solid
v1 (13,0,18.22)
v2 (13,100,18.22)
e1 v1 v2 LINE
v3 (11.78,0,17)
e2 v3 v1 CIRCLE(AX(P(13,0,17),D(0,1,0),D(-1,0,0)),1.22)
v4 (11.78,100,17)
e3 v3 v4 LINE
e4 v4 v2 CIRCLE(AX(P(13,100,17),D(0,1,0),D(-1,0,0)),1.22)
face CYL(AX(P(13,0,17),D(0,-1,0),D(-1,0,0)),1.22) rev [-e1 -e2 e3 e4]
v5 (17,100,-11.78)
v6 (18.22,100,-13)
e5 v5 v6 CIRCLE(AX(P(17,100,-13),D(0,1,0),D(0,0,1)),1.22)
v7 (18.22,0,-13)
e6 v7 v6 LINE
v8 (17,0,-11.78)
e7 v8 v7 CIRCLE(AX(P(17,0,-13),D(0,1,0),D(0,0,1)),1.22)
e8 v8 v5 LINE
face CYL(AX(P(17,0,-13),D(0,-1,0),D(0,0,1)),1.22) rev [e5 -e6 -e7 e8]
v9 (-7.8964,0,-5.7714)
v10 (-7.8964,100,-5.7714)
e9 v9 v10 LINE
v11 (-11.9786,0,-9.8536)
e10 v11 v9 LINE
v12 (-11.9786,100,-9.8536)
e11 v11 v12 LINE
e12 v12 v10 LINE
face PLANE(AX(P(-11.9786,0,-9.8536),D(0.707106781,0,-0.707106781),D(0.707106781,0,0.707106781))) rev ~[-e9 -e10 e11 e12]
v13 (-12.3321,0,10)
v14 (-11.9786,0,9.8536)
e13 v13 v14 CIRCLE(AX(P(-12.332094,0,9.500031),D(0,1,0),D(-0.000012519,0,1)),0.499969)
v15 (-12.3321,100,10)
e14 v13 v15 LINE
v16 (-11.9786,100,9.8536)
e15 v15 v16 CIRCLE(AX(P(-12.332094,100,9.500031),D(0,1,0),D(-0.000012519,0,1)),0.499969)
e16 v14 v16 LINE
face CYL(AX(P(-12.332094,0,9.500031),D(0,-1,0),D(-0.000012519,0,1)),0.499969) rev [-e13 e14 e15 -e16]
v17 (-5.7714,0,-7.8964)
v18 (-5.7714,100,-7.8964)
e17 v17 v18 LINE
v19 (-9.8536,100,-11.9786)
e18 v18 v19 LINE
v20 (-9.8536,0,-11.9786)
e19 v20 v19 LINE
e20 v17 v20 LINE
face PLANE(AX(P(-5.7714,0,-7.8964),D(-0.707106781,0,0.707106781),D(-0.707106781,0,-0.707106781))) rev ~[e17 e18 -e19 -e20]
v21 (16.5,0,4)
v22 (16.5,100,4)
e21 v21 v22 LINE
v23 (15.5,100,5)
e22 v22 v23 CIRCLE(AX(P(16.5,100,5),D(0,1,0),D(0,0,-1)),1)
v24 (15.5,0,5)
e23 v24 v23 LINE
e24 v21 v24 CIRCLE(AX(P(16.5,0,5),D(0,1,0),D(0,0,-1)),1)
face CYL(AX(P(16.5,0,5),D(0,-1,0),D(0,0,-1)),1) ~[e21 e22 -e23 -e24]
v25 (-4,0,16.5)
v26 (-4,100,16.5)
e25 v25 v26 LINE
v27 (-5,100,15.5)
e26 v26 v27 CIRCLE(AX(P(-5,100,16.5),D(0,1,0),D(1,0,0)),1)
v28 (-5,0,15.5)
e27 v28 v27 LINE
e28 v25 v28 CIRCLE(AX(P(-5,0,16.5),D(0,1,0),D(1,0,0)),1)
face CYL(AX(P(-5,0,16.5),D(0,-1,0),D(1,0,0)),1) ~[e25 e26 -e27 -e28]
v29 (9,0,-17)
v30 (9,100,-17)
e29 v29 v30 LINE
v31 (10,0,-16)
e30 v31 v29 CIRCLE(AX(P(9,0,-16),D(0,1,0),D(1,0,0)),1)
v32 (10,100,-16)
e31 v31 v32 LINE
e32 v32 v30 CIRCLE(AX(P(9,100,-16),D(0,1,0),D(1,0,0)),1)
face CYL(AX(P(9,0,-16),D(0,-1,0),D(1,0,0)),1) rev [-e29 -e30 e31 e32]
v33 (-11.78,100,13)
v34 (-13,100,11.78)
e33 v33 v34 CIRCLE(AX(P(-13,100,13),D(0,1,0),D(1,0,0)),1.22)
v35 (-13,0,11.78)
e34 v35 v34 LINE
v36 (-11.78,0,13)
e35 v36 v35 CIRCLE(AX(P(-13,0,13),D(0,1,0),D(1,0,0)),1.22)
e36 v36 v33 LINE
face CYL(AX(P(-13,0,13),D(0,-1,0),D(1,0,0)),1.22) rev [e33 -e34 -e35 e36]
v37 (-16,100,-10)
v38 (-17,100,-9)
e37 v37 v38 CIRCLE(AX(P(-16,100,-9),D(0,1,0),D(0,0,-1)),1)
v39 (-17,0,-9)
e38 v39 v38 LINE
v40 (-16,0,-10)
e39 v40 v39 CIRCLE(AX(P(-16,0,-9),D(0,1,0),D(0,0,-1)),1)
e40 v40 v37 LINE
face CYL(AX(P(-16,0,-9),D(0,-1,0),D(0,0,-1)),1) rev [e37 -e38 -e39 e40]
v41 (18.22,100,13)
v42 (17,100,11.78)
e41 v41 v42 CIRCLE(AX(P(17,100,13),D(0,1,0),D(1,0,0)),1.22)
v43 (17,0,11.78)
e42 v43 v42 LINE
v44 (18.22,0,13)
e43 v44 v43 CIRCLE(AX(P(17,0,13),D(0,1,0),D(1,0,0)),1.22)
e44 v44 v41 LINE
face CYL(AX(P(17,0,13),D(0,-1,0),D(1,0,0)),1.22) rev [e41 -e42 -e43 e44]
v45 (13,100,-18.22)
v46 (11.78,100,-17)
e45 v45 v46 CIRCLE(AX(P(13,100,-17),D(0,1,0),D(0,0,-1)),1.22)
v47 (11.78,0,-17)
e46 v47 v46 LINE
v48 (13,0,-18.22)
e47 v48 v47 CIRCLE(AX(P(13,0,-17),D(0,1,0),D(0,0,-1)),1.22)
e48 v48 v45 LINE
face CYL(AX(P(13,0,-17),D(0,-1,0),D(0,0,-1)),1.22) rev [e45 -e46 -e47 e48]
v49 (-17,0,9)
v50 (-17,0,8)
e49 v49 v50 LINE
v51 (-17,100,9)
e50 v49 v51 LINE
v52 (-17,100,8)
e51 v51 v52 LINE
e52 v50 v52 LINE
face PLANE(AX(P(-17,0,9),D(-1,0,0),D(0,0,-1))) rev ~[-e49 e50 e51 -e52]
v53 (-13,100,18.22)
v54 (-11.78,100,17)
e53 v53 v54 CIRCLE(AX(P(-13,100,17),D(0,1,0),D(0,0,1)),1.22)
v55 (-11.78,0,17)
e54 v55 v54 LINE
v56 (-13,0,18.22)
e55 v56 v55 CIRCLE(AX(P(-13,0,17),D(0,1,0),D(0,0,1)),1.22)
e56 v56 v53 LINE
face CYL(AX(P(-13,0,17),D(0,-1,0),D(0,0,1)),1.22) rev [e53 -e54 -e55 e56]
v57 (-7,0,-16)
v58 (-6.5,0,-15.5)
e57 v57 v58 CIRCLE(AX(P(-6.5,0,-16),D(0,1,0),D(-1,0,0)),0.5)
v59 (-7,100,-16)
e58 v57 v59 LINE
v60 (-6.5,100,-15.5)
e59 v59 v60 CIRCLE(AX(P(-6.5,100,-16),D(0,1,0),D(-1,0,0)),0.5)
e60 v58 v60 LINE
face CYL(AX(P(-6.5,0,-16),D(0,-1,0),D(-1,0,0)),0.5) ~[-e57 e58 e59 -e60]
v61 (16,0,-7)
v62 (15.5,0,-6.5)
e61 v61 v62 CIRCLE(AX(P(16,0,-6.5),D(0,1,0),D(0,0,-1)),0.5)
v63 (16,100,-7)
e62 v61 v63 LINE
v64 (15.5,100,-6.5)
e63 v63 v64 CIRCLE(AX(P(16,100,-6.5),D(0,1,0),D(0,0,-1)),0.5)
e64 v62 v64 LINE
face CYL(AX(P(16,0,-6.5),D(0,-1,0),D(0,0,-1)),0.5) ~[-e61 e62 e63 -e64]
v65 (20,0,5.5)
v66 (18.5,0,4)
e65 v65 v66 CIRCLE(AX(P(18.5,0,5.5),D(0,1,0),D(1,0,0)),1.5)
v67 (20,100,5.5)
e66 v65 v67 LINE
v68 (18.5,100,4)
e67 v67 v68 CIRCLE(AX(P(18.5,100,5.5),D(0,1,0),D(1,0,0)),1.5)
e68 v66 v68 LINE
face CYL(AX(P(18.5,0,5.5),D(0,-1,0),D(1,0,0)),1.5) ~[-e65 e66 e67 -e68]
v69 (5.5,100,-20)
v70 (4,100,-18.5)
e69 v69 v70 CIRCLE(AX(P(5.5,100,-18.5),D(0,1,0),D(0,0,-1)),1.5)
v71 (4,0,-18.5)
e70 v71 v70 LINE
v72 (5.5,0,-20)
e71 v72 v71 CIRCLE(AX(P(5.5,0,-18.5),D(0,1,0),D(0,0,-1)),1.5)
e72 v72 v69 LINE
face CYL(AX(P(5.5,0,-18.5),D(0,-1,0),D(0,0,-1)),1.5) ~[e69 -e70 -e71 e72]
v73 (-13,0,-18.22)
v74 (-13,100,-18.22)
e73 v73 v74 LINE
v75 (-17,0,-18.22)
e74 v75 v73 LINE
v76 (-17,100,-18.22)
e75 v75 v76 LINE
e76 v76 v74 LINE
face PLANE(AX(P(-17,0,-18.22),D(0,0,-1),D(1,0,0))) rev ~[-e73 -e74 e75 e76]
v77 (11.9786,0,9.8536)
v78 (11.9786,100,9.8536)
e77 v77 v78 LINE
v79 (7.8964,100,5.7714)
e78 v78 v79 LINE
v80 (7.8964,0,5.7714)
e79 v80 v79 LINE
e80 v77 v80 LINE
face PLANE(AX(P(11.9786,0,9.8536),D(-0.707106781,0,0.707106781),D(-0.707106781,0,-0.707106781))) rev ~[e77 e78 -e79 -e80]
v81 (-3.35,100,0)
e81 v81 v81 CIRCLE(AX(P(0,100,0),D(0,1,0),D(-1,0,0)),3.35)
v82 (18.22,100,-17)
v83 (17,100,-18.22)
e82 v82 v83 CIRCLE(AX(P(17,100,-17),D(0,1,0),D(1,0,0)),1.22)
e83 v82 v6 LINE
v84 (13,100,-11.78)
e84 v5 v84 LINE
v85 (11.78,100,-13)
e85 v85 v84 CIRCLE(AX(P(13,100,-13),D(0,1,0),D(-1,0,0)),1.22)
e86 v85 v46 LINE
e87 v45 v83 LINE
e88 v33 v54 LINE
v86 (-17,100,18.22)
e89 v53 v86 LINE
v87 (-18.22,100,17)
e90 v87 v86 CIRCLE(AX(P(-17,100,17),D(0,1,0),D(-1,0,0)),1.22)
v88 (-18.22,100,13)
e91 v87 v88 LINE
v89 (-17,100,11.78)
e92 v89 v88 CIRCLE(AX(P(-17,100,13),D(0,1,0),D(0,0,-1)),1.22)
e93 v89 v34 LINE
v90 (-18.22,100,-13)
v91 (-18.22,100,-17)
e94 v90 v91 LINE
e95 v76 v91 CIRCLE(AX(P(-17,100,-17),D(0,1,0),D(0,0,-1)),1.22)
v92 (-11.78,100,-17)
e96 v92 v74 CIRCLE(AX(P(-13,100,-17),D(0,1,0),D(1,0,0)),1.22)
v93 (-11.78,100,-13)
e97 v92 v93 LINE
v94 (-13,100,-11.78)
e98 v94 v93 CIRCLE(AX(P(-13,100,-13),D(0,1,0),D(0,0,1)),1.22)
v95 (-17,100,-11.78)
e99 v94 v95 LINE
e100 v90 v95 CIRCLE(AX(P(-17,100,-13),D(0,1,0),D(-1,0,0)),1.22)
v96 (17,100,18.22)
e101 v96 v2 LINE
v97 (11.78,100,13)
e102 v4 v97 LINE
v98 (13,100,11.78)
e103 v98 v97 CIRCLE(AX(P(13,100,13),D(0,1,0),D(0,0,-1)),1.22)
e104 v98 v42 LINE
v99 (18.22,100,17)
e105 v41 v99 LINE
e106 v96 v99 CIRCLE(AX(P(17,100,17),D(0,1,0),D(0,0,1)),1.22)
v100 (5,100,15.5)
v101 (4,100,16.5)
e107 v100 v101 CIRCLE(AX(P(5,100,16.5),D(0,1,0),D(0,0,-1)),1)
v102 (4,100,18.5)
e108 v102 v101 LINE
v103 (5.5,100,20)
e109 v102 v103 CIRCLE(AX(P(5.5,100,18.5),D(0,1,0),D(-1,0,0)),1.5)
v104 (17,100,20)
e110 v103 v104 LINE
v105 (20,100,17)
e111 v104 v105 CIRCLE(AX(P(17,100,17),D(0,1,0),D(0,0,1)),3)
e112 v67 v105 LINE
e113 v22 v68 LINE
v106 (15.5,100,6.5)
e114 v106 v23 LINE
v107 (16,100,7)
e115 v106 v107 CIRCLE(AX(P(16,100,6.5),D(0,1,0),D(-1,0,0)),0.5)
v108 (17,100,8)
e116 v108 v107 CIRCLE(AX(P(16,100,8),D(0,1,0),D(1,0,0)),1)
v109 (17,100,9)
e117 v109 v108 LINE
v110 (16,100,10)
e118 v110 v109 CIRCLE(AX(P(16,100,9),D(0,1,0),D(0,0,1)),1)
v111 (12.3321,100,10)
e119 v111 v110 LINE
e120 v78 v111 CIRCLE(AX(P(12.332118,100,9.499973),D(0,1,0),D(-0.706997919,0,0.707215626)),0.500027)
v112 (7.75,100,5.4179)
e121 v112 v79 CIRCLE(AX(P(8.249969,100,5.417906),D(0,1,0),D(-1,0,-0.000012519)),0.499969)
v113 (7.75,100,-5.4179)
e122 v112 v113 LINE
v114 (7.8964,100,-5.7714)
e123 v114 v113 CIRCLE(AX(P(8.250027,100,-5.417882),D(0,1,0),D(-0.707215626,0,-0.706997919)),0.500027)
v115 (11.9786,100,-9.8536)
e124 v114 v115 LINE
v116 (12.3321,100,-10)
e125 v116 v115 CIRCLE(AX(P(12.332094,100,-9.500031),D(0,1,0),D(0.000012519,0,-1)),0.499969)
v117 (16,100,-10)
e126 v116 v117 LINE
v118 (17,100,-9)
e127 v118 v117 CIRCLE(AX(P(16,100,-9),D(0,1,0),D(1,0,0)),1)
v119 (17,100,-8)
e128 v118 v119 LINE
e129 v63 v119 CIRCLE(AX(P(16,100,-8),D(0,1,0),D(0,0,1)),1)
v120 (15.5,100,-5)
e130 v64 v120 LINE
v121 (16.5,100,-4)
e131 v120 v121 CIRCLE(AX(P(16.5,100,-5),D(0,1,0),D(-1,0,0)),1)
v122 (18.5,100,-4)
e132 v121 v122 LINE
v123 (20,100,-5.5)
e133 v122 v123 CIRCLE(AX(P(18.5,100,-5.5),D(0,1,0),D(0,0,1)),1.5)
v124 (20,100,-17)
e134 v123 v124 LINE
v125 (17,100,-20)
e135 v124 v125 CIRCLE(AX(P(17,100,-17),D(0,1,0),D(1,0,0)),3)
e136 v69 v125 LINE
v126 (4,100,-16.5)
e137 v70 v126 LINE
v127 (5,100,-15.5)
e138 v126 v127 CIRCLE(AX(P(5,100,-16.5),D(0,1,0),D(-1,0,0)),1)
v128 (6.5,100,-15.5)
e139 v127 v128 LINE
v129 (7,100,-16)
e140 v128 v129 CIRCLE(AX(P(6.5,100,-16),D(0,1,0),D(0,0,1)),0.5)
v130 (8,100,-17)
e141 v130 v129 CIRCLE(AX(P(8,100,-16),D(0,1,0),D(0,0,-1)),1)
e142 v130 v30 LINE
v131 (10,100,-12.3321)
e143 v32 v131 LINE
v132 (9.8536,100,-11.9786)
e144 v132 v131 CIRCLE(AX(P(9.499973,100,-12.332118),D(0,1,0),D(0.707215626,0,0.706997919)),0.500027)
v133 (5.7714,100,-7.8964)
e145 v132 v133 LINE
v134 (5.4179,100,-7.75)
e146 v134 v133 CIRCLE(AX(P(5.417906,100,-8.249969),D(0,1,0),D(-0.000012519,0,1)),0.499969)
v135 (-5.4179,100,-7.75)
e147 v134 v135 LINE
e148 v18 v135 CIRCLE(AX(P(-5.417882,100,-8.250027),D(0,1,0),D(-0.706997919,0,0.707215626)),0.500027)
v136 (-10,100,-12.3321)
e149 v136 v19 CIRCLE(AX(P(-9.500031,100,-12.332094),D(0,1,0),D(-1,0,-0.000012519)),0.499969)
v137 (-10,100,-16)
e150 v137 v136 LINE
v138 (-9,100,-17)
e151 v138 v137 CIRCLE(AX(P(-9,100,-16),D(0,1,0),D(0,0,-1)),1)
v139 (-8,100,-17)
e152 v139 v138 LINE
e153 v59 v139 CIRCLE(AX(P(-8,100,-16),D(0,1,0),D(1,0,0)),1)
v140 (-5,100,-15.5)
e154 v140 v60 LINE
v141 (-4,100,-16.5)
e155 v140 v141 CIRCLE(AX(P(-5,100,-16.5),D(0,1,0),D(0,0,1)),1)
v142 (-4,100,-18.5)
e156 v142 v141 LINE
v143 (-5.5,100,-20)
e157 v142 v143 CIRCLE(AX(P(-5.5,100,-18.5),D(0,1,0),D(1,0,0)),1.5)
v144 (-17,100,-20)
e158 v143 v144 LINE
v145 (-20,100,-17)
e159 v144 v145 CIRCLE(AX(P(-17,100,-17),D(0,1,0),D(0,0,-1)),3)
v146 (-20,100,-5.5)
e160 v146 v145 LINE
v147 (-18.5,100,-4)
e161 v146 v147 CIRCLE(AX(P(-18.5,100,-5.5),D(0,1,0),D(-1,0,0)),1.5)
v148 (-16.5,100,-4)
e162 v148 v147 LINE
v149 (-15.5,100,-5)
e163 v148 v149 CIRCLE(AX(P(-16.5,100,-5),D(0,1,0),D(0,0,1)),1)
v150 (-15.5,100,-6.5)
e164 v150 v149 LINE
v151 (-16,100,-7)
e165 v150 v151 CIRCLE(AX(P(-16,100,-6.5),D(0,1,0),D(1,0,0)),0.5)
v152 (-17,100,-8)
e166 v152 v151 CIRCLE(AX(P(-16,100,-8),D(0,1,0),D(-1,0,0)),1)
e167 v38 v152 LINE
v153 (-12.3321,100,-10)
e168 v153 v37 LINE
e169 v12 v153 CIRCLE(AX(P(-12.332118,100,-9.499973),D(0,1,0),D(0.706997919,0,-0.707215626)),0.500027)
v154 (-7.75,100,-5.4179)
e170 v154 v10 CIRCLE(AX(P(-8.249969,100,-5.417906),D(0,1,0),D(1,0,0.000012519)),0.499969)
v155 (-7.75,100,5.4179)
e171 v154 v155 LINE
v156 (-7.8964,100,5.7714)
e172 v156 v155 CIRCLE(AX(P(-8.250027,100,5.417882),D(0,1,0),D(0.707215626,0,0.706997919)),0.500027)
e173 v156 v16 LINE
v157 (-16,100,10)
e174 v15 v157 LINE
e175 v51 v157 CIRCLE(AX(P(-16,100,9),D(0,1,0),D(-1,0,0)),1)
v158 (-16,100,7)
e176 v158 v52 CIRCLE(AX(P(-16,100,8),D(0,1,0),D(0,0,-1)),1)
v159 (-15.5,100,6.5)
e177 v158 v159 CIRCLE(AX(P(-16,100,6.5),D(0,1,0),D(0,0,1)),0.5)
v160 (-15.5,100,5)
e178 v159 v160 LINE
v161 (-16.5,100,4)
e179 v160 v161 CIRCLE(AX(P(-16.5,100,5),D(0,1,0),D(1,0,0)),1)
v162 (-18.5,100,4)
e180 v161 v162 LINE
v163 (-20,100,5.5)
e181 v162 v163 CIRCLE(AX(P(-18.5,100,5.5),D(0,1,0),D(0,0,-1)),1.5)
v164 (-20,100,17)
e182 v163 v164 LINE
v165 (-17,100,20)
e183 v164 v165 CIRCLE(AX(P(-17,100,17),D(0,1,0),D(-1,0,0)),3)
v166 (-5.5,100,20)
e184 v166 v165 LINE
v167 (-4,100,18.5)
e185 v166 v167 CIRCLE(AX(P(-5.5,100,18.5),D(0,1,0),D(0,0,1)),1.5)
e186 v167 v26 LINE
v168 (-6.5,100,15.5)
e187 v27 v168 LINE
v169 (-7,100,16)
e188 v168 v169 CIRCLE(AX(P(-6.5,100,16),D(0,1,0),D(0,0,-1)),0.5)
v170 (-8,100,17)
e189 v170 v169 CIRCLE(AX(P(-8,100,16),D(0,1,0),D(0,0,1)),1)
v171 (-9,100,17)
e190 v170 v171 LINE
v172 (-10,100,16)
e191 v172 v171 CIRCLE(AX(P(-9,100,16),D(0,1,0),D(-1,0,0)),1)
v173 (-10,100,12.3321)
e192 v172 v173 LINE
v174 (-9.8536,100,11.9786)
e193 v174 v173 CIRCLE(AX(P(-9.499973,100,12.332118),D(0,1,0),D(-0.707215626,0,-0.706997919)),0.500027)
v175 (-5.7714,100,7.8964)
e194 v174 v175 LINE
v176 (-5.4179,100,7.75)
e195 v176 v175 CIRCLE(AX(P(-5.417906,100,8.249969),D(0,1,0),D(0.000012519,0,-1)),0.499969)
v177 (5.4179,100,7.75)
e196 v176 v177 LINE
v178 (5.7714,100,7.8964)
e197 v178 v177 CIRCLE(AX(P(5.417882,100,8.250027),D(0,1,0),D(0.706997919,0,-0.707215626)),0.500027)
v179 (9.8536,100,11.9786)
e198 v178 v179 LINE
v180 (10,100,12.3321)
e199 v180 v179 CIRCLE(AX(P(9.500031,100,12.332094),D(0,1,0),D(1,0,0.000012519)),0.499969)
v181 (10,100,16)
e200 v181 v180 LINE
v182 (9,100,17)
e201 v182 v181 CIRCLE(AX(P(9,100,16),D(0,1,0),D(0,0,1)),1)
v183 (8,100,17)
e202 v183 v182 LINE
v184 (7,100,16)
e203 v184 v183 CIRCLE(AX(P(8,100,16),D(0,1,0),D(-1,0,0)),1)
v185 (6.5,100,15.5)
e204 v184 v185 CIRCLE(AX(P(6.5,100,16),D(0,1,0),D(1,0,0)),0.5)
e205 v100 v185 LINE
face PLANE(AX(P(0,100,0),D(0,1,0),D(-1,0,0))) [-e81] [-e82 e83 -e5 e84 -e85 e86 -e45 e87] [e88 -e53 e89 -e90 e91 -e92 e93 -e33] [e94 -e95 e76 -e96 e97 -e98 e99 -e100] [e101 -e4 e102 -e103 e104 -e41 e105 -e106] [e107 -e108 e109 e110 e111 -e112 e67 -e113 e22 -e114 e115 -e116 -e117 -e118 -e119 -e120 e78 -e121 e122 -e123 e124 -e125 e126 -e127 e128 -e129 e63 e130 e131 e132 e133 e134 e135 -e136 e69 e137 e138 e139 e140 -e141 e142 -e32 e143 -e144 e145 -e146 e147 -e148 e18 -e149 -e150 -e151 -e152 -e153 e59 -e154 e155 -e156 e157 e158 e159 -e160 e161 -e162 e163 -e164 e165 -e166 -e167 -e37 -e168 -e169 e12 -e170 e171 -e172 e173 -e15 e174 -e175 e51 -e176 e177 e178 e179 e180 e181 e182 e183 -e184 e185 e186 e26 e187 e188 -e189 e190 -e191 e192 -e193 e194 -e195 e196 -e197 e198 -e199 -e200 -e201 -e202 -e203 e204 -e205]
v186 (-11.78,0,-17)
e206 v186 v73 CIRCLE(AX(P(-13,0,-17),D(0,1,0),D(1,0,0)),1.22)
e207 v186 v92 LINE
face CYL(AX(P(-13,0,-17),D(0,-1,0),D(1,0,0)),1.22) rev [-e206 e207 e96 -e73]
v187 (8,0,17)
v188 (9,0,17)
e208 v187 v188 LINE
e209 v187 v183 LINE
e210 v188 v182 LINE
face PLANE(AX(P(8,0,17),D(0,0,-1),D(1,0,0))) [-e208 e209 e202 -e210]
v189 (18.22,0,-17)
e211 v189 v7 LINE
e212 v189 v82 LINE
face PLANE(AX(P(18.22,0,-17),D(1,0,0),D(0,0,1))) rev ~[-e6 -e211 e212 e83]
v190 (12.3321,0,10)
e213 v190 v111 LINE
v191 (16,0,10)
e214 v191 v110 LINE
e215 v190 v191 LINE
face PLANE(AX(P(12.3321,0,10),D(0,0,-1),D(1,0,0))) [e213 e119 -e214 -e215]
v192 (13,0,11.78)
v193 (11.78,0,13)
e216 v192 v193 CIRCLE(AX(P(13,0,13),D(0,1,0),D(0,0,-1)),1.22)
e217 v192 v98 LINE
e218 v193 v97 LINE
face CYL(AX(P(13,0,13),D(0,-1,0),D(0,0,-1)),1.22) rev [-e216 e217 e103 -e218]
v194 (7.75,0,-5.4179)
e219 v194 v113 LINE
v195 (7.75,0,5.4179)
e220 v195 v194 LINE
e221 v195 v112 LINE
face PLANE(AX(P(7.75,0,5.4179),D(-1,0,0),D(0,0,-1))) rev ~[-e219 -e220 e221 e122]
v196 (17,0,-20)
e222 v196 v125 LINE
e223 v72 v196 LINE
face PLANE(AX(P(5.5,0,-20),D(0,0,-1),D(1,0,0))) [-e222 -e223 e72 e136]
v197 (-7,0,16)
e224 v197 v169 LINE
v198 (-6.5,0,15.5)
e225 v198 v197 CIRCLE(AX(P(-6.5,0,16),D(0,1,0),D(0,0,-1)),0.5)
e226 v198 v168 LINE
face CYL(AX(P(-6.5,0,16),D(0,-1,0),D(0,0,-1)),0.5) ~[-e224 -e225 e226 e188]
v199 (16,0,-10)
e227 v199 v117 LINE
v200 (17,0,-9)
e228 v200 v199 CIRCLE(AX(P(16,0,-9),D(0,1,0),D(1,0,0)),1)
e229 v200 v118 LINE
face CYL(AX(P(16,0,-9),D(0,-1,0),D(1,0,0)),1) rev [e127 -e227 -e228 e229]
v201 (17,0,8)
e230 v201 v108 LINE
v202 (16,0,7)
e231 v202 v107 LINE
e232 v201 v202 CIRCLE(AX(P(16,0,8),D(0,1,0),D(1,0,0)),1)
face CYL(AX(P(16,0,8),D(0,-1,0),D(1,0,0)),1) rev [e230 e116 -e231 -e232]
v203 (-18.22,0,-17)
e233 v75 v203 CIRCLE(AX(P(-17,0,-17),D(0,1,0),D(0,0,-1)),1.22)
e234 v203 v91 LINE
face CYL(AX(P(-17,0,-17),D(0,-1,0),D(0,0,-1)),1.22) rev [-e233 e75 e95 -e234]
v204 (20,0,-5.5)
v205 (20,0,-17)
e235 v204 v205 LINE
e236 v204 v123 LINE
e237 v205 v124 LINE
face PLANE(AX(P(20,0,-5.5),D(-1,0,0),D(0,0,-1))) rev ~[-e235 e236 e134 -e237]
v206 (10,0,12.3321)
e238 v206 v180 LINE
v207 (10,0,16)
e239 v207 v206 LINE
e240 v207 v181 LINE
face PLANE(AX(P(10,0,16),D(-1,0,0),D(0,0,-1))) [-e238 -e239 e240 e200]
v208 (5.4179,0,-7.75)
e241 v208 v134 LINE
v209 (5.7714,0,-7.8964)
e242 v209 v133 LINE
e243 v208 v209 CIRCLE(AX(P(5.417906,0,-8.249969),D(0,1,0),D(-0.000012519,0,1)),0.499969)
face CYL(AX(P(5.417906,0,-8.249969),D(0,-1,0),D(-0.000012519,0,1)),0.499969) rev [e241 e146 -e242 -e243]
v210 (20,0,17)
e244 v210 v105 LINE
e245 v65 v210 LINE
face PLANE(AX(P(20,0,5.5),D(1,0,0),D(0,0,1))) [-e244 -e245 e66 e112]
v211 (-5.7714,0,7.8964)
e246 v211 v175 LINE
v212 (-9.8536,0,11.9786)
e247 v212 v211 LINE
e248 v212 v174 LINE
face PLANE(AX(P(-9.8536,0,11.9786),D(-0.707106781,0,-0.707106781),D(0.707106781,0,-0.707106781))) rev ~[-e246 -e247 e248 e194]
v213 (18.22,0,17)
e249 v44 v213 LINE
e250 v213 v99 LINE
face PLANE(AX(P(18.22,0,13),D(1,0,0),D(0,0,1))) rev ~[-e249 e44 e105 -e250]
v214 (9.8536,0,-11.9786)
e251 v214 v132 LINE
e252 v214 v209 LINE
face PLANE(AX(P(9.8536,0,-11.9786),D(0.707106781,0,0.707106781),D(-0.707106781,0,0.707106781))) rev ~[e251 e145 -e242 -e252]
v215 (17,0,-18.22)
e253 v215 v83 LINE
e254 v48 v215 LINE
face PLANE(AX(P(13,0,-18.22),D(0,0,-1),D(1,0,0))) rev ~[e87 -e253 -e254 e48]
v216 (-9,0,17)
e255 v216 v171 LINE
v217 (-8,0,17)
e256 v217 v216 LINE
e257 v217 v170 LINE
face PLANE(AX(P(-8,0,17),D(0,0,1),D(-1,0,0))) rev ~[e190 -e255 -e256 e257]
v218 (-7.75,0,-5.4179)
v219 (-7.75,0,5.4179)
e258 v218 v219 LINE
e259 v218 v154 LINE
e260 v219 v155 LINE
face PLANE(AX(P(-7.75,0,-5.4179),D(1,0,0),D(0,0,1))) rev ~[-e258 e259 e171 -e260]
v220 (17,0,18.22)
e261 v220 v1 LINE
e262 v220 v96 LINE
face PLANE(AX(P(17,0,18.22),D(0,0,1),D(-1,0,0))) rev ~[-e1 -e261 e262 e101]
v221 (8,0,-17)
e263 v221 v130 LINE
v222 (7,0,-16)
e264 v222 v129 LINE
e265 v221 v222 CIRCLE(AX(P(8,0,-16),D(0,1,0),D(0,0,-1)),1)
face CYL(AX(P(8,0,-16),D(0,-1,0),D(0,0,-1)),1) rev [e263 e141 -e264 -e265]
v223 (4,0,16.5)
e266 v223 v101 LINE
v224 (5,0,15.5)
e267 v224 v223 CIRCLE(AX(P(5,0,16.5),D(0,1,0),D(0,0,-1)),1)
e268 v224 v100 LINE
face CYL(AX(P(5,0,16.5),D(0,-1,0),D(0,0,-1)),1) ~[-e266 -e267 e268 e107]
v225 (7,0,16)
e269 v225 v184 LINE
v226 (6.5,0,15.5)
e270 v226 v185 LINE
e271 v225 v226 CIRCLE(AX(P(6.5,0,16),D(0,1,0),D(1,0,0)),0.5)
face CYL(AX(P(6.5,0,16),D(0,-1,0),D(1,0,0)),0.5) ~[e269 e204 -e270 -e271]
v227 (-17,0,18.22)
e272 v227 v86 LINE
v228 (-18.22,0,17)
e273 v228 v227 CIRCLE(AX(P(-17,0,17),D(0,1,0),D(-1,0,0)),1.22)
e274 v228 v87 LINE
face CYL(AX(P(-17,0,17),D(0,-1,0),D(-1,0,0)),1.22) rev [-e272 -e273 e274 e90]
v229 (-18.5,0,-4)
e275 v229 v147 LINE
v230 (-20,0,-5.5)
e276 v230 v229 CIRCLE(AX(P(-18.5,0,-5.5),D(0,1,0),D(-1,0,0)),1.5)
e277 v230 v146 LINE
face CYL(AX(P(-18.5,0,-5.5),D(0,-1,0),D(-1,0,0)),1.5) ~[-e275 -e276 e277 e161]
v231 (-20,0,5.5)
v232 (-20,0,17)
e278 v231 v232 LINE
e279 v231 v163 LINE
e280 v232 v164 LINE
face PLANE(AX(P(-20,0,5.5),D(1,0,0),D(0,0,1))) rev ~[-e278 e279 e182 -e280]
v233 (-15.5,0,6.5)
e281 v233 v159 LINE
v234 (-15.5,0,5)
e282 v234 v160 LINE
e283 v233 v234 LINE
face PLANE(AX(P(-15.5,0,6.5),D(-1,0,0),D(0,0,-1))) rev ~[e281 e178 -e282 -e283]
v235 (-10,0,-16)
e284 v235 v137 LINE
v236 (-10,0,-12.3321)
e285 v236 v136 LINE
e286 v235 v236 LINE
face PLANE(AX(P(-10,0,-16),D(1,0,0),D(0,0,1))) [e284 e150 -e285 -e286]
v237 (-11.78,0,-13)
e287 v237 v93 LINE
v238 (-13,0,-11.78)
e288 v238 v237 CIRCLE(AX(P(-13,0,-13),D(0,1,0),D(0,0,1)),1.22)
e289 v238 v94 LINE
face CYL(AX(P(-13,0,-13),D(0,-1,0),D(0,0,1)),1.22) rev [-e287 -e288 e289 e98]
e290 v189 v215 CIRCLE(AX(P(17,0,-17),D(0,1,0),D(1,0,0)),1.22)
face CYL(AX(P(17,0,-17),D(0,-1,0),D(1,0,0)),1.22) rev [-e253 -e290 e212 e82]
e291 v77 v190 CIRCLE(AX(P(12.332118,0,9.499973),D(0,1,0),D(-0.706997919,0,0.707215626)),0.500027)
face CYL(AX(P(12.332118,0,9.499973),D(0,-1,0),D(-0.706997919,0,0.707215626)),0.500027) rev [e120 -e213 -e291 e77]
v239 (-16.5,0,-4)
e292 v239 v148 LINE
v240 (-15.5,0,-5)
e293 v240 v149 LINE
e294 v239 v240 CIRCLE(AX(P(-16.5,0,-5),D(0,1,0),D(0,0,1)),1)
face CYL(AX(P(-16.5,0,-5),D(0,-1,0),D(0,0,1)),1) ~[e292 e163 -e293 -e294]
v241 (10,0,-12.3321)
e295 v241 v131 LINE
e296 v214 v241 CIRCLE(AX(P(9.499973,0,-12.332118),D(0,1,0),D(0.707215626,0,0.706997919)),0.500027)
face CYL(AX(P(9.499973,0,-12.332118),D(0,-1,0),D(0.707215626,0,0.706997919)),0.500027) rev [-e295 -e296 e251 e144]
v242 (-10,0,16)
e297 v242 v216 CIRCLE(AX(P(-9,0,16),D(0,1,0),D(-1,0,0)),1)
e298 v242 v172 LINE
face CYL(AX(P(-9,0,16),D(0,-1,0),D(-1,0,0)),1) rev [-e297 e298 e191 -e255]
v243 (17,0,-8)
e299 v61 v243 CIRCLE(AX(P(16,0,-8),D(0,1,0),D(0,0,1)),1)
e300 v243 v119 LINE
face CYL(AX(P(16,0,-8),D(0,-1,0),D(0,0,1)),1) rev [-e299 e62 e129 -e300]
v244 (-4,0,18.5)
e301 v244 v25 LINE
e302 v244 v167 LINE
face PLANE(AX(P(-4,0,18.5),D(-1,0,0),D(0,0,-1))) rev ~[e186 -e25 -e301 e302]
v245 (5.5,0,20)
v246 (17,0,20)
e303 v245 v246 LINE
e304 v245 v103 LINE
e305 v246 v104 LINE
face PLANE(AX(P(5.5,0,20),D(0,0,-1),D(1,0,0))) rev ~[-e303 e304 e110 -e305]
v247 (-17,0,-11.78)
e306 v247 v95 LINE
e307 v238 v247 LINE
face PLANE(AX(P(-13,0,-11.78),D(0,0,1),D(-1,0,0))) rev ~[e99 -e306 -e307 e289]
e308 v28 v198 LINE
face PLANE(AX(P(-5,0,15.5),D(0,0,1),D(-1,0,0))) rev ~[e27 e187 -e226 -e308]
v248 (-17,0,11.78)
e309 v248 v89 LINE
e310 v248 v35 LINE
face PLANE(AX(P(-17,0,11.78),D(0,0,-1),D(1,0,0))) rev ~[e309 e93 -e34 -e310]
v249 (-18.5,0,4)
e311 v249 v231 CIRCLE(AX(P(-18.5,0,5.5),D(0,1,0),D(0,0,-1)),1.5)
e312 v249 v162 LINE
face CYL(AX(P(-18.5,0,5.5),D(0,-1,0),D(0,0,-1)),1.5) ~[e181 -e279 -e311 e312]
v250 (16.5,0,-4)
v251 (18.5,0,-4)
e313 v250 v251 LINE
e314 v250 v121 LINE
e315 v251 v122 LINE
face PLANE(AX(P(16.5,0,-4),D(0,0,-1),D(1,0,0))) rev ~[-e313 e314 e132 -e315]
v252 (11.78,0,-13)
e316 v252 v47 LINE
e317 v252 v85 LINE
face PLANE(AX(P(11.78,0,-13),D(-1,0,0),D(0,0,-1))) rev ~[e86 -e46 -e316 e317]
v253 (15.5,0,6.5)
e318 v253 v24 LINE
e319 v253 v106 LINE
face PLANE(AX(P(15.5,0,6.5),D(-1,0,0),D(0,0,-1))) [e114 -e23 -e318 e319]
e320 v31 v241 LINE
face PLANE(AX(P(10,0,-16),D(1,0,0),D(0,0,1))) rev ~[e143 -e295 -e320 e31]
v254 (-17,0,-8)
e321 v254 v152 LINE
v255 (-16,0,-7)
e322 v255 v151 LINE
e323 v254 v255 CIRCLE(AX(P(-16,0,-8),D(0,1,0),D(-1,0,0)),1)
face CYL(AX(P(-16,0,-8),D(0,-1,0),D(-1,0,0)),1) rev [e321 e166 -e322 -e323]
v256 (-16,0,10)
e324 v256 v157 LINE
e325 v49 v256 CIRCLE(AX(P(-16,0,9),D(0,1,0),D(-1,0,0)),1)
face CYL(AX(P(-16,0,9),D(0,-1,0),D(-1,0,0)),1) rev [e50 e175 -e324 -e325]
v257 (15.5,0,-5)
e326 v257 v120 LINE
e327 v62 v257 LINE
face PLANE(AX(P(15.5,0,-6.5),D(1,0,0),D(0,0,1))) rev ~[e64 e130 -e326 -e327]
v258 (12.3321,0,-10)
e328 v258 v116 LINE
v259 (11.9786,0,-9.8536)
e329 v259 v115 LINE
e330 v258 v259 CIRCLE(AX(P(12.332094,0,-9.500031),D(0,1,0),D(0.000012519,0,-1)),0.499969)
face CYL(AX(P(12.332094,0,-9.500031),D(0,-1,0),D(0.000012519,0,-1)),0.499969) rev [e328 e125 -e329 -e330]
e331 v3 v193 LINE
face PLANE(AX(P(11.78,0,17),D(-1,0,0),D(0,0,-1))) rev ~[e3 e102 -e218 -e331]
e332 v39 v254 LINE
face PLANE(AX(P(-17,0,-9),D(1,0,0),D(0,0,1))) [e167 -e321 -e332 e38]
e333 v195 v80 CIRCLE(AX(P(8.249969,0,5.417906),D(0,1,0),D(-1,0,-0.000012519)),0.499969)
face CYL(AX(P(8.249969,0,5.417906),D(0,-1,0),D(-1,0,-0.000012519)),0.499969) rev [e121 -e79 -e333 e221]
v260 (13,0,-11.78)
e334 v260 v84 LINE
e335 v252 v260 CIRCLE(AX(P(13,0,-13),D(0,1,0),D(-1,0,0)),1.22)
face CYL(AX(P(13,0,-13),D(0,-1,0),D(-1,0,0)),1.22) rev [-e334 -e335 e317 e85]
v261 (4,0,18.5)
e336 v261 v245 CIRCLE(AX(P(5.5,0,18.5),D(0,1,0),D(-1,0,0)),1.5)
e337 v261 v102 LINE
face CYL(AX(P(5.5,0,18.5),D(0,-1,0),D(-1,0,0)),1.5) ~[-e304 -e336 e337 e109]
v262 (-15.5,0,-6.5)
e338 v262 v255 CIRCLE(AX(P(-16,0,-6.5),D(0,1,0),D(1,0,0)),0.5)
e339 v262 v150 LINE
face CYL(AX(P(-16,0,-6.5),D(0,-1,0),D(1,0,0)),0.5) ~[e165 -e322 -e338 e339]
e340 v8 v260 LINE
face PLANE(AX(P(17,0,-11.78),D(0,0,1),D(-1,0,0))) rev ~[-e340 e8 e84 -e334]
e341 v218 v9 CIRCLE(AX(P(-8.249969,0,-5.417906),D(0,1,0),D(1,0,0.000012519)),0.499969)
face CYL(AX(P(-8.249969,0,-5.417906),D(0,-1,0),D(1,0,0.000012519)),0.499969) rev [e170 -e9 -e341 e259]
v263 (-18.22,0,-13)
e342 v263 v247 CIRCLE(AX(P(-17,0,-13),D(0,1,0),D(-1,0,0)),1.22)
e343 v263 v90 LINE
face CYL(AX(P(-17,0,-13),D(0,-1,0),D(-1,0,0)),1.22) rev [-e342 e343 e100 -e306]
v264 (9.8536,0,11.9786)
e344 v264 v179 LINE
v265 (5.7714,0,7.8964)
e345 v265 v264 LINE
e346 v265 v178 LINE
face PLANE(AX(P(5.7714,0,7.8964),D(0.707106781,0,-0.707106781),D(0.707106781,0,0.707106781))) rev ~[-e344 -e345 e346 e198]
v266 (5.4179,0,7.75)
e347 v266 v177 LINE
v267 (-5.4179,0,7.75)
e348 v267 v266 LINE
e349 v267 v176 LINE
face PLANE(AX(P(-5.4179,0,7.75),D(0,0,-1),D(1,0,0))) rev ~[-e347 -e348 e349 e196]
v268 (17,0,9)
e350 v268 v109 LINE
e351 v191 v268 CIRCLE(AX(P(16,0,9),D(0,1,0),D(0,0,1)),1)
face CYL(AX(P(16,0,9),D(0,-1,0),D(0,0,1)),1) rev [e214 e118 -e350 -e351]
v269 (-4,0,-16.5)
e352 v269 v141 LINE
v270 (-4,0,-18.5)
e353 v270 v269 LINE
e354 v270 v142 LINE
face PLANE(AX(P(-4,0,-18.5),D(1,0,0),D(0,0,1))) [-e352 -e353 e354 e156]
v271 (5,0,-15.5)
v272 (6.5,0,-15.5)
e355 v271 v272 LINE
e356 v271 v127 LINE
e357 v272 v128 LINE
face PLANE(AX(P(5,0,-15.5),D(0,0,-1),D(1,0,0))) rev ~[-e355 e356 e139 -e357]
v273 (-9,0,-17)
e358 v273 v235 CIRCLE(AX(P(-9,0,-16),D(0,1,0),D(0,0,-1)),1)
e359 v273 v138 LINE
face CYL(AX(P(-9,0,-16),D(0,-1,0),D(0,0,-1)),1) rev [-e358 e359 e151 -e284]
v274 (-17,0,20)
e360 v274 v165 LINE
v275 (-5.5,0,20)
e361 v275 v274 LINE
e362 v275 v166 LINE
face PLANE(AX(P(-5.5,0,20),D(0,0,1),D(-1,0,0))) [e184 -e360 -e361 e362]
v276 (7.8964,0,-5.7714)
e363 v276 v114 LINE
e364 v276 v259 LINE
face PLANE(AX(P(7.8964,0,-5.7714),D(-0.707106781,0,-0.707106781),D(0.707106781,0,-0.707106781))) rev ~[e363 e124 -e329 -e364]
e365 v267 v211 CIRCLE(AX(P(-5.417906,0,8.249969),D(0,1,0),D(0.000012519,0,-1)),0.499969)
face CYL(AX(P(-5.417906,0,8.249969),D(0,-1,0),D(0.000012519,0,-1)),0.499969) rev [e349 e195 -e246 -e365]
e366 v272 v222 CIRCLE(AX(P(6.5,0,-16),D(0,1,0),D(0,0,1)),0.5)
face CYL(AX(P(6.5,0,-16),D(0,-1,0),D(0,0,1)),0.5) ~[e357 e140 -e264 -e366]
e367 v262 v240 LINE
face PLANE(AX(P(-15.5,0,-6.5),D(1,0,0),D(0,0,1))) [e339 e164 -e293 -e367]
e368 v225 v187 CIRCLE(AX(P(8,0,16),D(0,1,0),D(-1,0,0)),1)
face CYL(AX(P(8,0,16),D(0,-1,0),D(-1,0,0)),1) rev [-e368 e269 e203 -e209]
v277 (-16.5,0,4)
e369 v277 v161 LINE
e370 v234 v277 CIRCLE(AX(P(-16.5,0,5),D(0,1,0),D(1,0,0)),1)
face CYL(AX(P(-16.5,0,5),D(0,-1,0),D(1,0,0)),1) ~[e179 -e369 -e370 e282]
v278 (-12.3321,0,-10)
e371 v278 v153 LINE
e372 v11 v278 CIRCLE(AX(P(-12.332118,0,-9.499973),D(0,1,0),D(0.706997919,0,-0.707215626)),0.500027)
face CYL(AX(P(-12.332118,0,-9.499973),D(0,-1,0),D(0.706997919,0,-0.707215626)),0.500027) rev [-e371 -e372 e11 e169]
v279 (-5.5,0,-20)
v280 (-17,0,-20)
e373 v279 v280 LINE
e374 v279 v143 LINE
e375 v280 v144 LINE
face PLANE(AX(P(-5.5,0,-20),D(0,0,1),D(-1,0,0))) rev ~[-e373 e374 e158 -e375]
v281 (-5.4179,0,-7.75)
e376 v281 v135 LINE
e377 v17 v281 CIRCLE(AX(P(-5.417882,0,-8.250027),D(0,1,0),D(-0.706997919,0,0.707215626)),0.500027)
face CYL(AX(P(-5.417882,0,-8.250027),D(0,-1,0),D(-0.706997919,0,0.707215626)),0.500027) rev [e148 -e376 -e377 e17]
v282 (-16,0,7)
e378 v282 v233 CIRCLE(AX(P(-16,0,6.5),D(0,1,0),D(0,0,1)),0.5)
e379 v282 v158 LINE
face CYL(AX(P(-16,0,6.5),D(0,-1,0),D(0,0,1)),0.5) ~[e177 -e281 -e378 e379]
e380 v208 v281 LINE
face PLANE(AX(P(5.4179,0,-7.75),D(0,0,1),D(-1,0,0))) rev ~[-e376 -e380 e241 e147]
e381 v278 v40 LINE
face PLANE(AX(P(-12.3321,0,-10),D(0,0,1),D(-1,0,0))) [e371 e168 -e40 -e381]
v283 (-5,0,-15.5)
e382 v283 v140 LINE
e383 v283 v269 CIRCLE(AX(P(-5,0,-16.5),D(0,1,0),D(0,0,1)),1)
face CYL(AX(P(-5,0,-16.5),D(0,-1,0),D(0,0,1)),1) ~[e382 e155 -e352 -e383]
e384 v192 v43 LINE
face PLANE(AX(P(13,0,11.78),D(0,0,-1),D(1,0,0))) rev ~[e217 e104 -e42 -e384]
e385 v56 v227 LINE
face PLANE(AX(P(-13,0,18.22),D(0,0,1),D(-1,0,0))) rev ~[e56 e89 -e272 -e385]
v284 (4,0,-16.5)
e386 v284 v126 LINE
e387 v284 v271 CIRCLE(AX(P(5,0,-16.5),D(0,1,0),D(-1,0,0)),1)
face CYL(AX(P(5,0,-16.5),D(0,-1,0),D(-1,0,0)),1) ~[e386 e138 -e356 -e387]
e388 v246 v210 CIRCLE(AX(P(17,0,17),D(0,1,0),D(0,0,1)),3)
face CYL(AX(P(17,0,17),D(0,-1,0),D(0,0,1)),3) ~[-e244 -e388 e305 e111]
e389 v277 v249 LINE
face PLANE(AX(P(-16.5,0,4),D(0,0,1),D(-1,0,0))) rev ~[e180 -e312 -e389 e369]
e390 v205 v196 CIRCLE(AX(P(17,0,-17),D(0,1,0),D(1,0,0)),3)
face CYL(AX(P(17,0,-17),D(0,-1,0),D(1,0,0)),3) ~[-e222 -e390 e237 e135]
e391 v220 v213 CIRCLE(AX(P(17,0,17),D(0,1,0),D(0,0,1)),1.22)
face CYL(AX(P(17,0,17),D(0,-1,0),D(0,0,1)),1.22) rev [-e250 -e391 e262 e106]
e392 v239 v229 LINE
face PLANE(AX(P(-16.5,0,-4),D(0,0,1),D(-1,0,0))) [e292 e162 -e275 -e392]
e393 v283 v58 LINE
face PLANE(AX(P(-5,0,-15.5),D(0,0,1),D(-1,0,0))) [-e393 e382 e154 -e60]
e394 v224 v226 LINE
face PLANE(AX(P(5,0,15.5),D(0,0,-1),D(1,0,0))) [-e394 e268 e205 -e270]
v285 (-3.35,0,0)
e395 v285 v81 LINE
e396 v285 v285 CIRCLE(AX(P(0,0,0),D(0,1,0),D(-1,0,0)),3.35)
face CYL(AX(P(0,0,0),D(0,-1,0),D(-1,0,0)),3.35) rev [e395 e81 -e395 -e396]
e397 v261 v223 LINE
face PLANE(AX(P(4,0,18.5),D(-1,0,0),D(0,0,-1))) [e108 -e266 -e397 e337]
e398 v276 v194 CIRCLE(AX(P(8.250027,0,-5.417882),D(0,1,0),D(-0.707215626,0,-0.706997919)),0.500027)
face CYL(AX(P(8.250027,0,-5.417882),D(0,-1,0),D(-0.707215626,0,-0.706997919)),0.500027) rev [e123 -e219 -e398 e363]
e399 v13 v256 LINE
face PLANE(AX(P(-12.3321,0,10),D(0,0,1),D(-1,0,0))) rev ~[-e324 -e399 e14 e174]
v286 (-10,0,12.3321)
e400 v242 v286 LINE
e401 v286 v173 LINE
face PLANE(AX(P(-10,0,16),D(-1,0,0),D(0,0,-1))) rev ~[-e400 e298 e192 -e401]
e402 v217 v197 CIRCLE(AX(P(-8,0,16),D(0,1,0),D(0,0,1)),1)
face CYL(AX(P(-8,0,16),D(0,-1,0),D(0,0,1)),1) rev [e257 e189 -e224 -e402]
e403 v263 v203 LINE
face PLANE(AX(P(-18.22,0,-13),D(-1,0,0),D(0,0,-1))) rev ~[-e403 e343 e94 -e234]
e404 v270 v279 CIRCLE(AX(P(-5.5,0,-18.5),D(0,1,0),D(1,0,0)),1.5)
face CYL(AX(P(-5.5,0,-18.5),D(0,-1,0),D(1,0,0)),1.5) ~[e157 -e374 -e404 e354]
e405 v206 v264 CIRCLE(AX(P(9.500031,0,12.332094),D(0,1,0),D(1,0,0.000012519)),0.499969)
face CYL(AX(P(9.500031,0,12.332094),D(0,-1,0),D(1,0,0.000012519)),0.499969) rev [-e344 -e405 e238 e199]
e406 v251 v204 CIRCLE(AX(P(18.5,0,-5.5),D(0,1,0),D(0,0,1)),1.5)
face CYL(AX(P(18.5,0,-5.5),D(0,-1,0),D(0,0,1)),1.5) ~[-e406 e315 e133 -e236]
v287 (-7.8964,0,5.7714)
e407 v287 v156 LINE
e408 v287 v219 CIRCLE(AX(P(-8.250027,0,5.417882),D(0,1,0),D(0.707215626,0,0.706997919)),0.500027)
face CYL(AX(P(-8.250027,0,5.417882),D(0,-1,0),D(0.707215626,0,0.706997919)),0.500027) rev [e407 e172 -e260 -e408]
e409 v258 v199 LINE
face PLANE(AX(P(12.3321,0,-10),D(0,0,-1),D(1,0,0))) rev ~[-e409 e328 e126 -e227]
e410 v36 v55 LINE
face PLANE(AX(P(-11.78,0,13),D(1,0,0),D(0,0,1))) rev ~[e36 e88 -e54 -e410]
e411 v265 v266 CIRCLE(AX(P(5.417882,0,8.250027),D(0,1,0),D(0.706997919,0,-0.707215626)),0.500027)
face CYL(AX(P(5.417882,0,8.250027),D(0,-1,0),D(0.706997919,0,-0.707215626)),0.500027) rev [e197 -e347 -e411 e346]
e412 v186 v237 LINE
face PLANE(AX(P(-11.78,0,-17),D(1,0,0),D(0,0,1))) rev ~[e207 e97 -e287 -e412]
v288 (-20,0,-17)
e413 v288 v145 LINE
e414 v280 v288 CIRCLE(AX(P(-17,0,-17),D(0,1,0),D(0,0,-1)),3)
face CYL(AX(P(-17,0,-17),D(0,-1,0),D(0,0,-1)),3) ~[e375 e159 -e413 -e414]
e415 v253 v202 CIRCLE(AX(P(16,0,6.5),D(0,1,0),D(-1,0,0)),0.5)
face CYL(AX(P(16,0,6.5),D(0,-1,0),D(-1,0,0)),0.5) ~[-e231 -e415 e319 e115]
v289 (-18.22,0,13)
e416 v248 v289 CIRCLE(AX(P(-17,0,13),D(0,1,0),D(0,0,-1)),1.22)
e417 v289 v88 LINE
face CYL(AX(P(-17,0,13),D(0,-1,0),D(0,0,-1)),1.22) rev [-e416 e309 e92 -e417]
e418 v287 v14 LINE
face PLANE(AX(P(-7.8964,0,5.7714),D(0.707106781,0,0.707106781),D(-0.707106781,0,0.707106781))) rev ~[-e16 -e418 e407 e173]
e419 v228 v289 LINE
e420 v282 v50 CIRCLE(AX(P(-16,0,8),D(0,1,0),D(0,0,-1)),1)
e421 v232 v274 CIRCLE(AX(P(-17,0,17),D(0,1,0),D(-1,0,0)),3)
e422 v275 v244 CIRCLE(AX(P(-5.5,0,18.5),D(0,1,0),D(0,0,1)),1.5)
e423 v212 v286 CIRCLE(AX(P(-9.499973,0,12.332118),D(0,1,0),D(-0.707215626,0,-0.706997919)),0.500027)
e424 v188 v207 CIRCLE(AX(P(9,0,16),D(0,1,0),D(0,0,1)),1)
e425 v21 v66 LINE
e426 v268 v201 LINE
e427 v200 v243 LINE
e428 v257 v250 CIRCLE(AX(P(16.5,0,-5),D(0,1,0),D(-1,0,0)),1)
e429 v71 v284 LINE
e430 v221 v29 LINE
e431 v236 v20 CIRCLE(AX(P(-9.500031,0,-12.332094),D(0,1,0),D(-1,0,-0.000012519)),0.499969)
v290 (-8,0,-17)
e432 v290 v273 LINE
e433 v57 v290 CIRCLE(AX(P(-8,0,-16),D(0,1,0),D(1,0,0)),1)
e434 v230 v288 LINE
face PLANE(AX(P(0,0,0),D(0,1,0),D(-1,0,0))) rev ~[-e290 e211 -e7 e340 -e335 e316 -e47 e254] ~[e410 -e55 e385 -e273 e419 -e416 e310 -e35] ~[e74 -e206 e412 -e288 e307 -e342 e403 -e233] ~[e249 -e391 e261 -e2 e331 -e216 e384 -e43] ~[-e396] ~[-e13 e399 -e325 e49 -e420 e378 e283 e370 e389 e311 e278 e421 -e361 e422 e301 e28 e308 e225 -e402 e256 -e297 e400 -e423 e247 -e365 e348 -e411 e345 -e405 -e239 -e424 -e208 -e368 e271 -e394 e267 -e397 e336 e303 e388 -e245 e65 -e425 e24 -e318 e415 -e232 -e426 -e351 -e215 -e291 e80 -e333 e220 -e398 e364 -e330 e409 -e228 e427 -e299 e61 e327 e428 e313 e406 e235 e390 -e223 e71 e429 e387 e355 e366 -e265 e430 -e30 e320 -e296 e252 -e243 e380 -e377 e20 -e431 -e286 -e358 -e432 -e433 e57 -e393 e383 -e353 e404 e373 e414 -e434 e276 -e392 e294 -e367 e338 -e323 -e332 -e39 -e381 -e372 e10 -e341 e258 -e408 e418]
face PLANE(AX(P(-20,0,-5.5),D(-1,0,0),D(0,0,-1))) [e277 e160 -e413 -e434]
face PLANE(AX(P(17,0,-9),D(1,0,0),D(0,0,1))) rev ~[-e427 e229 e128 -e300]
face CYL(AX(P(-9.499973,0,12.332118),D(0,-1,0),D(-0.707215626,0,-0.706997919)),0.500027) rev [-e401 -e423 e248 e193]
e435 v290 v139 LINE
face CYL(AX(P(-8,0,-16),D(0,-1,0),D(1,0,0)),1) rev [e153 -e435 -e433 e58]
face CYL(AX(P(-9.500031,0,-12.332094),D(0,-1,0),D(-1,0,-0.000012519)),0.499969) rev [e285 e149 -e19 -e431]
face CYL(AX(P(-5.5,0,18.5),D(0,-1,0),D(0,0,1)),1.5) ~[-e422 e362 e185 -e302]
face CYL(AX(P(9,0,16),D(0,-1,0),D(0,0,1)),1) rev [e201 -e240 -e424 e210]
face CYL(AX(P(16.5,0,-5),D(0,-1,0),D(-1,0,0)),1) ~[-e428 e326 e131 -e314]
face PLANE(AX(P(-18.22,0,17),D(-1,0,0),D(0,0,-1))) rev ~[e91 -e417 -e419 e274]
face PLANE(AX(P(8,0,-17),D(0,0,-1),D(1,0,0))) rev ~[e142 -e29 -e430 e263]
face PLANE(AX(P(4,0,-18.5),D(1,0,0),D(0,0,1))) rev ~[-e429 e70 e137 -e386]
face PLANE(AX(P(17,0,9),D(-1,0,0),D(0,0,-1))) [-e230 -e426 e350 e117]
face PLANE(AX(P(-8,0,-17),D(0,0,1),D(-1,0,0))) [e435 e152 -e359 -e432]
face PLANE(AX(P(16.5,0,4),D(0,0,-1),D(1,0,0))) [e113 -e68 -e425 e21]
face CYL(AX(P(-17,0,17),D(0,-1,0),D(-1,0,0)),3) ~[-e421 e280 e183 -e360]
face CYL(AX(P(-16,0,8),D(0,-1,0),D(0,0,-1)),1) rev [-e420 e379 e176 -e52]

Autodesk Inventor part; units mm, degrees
ref_plane "YZ Plane" through (0, 0, 0) normal (1, 0, 0) x (0, 1, 0)
ref_plane "Start Plane" through (0, 0, 0) normal (0, 1, 0) x (-1, 0, 0)
ref_plane "End Plane" through (0, 100, 0) normal (0, 1, 0) x (-1, 0, 0)
sketch "Sketch1" plane through (0, 0, 0) normal (0, 1, 0) x (-1, 0, 0)
  arc A0 (-9.8536, -11.9786) -> (-10, -12.3321) centre (-9.5, -12.3321) ccw
  line L0 (-9.8536, -11.9786) -> (-5.7714, -7.8964)
  arc A1 (-5.4179, -7.75) -> (-5.7714, -7.8964) centre (-5.4179, -8.25) ccw
  line L1 (-5.4179, -7.75) -> (5.4179, -7.75)
  arc A2 (5.7714, -7.8964) -> (5.4179, -7.75) centre (5.4179, -8.25) ccw
  line L2 (5.7714, -7.8964) -> (9.8536, -11.9786)
  arc A3 (10, -12.3321) -> (9.8536, -11.9786) centre (9.5, -12.3321) ccw
  arc A4 (11.9786, -9.8536) -> (12.3321, -10) centre (12.3321, -9.5) ccw
  line L3 (11.9786, -9.8536) -> (7.8964, -5.7714)
  arc A5 (7.75, -5.4179) -> (7.8964, -5.7714) centre (8.25, -5.4179) ccw
  line L4 (7.75, -5.4179) -> (7.75, 5.4179)
  arc A6 (7.8964, 5.7714) -> (7.75, 5.4179) centre (8.25, 5.4179) ccw
  line L5 (7.8964, 5.7714) -> (11.9786, 9.8536)
  arc A7 (12.3321, 10) -> (11.9786, 9.8536) centre (12.3321, 9.5) ccw
  line L6 (12.3321, 10) -> (16, 10)
  arc A8 (17, 9) -> (16, 10) centre (16, 9) ccw
  line L7 (17, 9) -> (17, 8)
  arc A9 (16, 7) -> (17, 8) centre (16, 8) ccw
  arc A10 (16, 7) -> (15.5, 6.5) centre (16, 6.5) ccw
  line L8 (15.5, 6.5) -> (15.5, 5)
  arc A11 (15.5, 5) -> (16.5, 4) centre (16.5, 5) ccw
  line L9 (16.5, 4) -> (18.5, 4)
  line L10 (4, 18.5) -> (4, 16.5)
  arc A12 (4, 16.5) -> (5, 15.5) centre (5, 16.5) ccw
  line L11 (5, 15.5) -> (6.5, 15.5)
  arc A13 (6.5, 15.5) -> (7, 16) centre (6.5, 16) ccw
  arc A14 (8, 17) -> (7, 16) centre (8, 16) ccw
  line L12 (8, 17) -> (9, 17)
  arc A15 (10, 16) -> (9, 17) centre (9, 16) ccw
  line L13 (10, 16) -> (10, 12.3321)
  arc A16 (9.8536, 11.9786) -> (10, 12.3321) centre (9.5, 12.3321) ccw
  line L14 (9.8536, 11.9786) -> (5.7714, 7.8964)
  arc A17 (5.4179, 7.75) -> (5.7714, 7.8964) centre (5.4179, 8.25) ccw
  line L15 (5.4179, 7.75) -> (-5.4179, 7.75)
  arc A18 (-5.7714, 7.8964) -> (-5.4179, 7.75) centre (-5.4179, 8.25) ccw
  line L16 (-5.7714, 7.8964) -> (-9.8536, 11.9786)
  arc A19 (-10, 12.3321) -> (-9.8536, 11.9786) centre (-9.5, 12.3321) ccw
  arc A20 (-11.9786, 9.8536) -> (-12.3321, 10) centre (-12.3321, 9.5) ccw
  line L17 (-11.9786, 9.8536) -> (-7.8964, 5.7714)
  arc A21 (-7.75, 5.4179) -> (-7.8964, 5.7714) centre (-8.25, 5.4179) ccw
  line L18 (-7.75, 5.4179) -> (-7.75, -5.4179)
  arc A22 (-7.8964, -5.7714) -> (-7.75, -5.4179) centre (-8.25, -5.4179) ccw
  line L19 (-7.8964, -5.7714) -> (-11.9786, -9.8536)
  arc A23 (-12.3321, -10) -> (-11.9786, -9.8536) centre (-12.3321, -9.5) ccw
  line L20 (17, 11.78) -> (13, 11.78)
  arc A24 (11.78, 13) -> (13, 11.78) centre (13, 13) ccw
  line L21 (11.78, 13) -> (11.78, 17)
  arc A25 (13, 18.22) -> (11.78, 17) centre (13, 17) ccw
  line L22 (13, 18.22) -> (17, 18.22)
  arc A26 (18.22, 17) -> (17, 18.22) centre (17, 17) ccw
  line L23 (18.22, 17) -> (18.22, 13)
  arc A27 (17, 11.78) -> (18.22, 13) centre (17, 13) ccw
  line L24 (11.78, -17) -> (11.78, -13)
  arc A28 (13, -11.78) -> (11.78, -13) centre (13, -13) ccw
  line L25 (13, -11.78) -> (17, -11.78)
  arc A29 (18.22, -13) -> (17, -11.78) centre (17, -13) ccw
  line L26 (18.22, -13) -> (18.22, -17)
  arc A30 (17, -18.22) -> (18.22, -17) centre (17, -17) ccw
  line L27 (17, -18.22) -> (13, -18.22)
  arc A31 (11.78, -17) -> (13, -18.22) centre (13, -17) ccw
  line L28 (-17, -11.78) -> (-13, -11.78)
  arc A32 (-11.78, -13) -> (-13, -11.78) centre (-13, -13) ccw
  line L29 (-11.78, -13) -> (-11.78, -17)
  arc A33 (-13, -18.22) -> (-11.78, -17) centre (-13, -17) ccw
  line L30 (-13, -18.22) -> (-17, -18.22)
  arc A34 (-18.22, -17) -> (-17, -18.22) centre (-17, -17) ccw
  line L31 (-18.22, -17) -> (-18.22, -13)
  arc A35 (-17, -11.78) -> (-18.22, -13) centre (-17, -13) ccw
  line L32 (-18.22, 13) -> (-18.22, 17)
  arc A36 (-17, 18.22) -> (-18.22, 17) centre (-17, 17) ccw
  line L33 (-17, 18.22) -> (-13, 18.22)
  arc A37 (-11.78, 17) -> (-13, 18.22) centre (-13, 17) ccw
  line L34 (-11.78, 17) -> (-11.78, 13)
  arc A38 (-13, 11.78) -> (-11.78, 13) centre (-13, 13) ccw
  line L35 (-13, 11.78) -> (-17, 11.78)
  arc A39 (-18.22, 13) -> (-17, 11.78) centre (-17, 13) ccw
  circle A40 centre (0, 0) radius 3.35
  line L36 (5.5, 20) -> (17, 20)
  arc A41 (5.5, 20) -> (4, 18.5) centre (5.5, 18.5) ccw
  line L37 (20, 5.5) -> (20, 17)
  arc A42 (18.5, 4) -> (20, 5.5) centre (18.5, 5.5) ccw
  arc A43 (20, 17) -> (17, 20) centre (17, 17) ccw
  line L38 (12.3321, -10) -> (16, -10)
  arc A44 (16, -10) -> (17, -9) centre (16, -9) ccw
  line L39 (17, -9) -> (17, -8)
  arc A45 (17, -8) -> (16, -7) centre (16, -8) ccw
  arc A46 (15.5, -6.5) -> (16, -7) centre (16, -6.5) ccw
  line L40 (15.5, -6.5) -> (15.5, -5)
  arc A47 (16.5, -4) -> (15.5, -5) centre (16.5, -5) ccw
  line L41 (16.5, -4) -> (18.5, -4)
  line L42 (4, -18.5) -> (4, -16.5)
  arc A48 (5, -15.5) -> (4, -16.5) centre (5, -16.5) ccw
  line L43 (5, -15.5) -> (6.5, -15.5)
  arc A49 (7, -16) -> (6.5, -15.5) centre (6.5, -16) ccw
  arc A50 (7, -16) -> (8, -17) centre (8, -16) ccw
  line L44 (8, -17) -> (9, -17)
  arc A51 (9, -17) -> (10, -16) centre (9, -16) ccw
  line L45 (10, -16) -> (10, -12.3321)
  line L46 (5.5, -20) -> (17, -20)
  arc A52 (4, -18.5) -> (5.5, -20) centre (5.5, -18.5) ccw
  line L47 (20, -5.5) -> (20, -17)
  arc A53 (20, -5.5) -> (18.5, -4) centre (18.5, -5.5) ccw
  arc A54 (17, -20) -> (20, -17) centre (17, -17) ccw
  line L48 (-12.3321, 10) -> (-16, 10)
  arc A55 (-16, 10) -> (-17, 9) centre (-16, 9) ccw
  line L49 (-17, 9) -> (-17, 8)
  arc A56 (-17, 8) -> (-16, 7) centre (-16, 8) ccw
  arc A57 (-15.5, 6.5) -> (-16, 7) centre (-16, 6.5) ccw
  line L50 (-15.5, 6.5) -> (-15.5, 5)
  arc A58 (-16.5, 4) -> (-15.5, 5) centre (-16.5, 5) ccw
  line L51 (-16.5, 4) -> (-18.5, 4)
  line L52 (-4, 18.5) -> (-4, 16.5)
  arc A59 (-5, 15.5) -> (-4, 16.5) centre (-5, 16.5) ccw
  line L53 (-5, 15.5) -> (-6.5, 15.5)
  arc A60 (-7, 16) -> (-6.5, 15.5) centre (-6.5, 16) ccw
  arc A61 (-7, 16) -> (-8, 17) centre (-8, 16) ccw
  line L54 (-8, 17) -> (-9, 17)
  arc A62 (-9, 17) -> (-10, 16) centre (-9, 16) ccw
  line L55 (-10, 16) -> (-10, 12.3321)
  line L56 (-5.5, 20) -> (-17, 20)
  arc A63 (-4, 18.5) -> (-5.5, 20) centre (-5.5, 18.5) ccw
  line L57 (-20, 5.5) -> (-20, 17)
  arc A64 (-20, 5.5) -> (-18.5, 4) centre (-18.5, 5.5) ccw
  arc A65 (-17, 20) -> (-20, 17) centre (-17, 17) ccw
  line L58 (-12.3321, -10) -> (-16, -10)
  arc A66 (-17, -9) -> (-16, -10) centre (-16, -9) ccw
  line L59 (-17, -9) -> (-17, -8)
  arc A67 (-16, -7) -> (-17, -8) centre (-16, -8) ccw
  arc A68 (-16, -7) -> (-15.5, -6.5) centre (-16, -6.5) ccw
  line L60 (-15.5, -6.5) -> (-15.5, -5)
  arc A69 (-15.5, -5) -> (-16.5, -4) centre (-16.5, -5) ccw
  line L61 (-16.5, -4) -> (-18.5, -4)
  line L62 (-4, -18.5) -> (-4, -16.5)
  arc A70 (-4, -16.5) -> (-5, -15.5) centre (-5, -16.5) ccw
  line L63 (-5, -15.5) -> (-6.5, -15.5)
  arc A71 (-6.5, -15.5) -> (-7, -16) centre (-6.5, -16) ccw
  arc A72 (-8, -17) -> (-7, -16) centre (-8, -16) ccw
  line L64 (-8, -17) -> (-9, -17)
  arc A73 (-10, -16) -> (-9, -17) centre (-9, -16) ccw
  line L65 (-10, -16) -> (-10, -12.3321)
  line L66 (-5.5, -20) -> (-17, -20)
  arc A74 (-5.5, -20) -> (-4, -18.5) centre (-5.5, -18.5) ccw
  line L67 (-20, -5.5) -> (-20, -17)
  arc A75 (-18.5, -4) -> (-20, -5.5) centre (-18.5, -5.5) ccw
  arc A76 (-20, -17) -> (-17, -20) centre (-17, -17) ccw
extrude "Body" add sketch "Sketch1" along normal up to surface (100 mm away) from surface at 0
sketch "Sketch2" plane through (0, 0, 0) normal (0, 1, 0) x (-1, 0, 0)
  line L0 (0, 0) -> (10, 0)
ref_plane "Work Plane3" through (0, 0, 0) normal (0, 0, -1) x (-1, 0, 0)
sketch "Sketch3" plane through (0, 0, 0) normal (0, 0, -1) x (-1, 0, 0)
  line L0 (-28, 0) -> (28, 0)
  line L1 (-28, 100) -> (28, 100)
  dimension "d11" = 100
equation "\"G_OFFSET_START\" = 0"
equation "\"G_OFFSET_END\" = 0"
equation "\"G_L\" = d11"
properties part number "10-040"
